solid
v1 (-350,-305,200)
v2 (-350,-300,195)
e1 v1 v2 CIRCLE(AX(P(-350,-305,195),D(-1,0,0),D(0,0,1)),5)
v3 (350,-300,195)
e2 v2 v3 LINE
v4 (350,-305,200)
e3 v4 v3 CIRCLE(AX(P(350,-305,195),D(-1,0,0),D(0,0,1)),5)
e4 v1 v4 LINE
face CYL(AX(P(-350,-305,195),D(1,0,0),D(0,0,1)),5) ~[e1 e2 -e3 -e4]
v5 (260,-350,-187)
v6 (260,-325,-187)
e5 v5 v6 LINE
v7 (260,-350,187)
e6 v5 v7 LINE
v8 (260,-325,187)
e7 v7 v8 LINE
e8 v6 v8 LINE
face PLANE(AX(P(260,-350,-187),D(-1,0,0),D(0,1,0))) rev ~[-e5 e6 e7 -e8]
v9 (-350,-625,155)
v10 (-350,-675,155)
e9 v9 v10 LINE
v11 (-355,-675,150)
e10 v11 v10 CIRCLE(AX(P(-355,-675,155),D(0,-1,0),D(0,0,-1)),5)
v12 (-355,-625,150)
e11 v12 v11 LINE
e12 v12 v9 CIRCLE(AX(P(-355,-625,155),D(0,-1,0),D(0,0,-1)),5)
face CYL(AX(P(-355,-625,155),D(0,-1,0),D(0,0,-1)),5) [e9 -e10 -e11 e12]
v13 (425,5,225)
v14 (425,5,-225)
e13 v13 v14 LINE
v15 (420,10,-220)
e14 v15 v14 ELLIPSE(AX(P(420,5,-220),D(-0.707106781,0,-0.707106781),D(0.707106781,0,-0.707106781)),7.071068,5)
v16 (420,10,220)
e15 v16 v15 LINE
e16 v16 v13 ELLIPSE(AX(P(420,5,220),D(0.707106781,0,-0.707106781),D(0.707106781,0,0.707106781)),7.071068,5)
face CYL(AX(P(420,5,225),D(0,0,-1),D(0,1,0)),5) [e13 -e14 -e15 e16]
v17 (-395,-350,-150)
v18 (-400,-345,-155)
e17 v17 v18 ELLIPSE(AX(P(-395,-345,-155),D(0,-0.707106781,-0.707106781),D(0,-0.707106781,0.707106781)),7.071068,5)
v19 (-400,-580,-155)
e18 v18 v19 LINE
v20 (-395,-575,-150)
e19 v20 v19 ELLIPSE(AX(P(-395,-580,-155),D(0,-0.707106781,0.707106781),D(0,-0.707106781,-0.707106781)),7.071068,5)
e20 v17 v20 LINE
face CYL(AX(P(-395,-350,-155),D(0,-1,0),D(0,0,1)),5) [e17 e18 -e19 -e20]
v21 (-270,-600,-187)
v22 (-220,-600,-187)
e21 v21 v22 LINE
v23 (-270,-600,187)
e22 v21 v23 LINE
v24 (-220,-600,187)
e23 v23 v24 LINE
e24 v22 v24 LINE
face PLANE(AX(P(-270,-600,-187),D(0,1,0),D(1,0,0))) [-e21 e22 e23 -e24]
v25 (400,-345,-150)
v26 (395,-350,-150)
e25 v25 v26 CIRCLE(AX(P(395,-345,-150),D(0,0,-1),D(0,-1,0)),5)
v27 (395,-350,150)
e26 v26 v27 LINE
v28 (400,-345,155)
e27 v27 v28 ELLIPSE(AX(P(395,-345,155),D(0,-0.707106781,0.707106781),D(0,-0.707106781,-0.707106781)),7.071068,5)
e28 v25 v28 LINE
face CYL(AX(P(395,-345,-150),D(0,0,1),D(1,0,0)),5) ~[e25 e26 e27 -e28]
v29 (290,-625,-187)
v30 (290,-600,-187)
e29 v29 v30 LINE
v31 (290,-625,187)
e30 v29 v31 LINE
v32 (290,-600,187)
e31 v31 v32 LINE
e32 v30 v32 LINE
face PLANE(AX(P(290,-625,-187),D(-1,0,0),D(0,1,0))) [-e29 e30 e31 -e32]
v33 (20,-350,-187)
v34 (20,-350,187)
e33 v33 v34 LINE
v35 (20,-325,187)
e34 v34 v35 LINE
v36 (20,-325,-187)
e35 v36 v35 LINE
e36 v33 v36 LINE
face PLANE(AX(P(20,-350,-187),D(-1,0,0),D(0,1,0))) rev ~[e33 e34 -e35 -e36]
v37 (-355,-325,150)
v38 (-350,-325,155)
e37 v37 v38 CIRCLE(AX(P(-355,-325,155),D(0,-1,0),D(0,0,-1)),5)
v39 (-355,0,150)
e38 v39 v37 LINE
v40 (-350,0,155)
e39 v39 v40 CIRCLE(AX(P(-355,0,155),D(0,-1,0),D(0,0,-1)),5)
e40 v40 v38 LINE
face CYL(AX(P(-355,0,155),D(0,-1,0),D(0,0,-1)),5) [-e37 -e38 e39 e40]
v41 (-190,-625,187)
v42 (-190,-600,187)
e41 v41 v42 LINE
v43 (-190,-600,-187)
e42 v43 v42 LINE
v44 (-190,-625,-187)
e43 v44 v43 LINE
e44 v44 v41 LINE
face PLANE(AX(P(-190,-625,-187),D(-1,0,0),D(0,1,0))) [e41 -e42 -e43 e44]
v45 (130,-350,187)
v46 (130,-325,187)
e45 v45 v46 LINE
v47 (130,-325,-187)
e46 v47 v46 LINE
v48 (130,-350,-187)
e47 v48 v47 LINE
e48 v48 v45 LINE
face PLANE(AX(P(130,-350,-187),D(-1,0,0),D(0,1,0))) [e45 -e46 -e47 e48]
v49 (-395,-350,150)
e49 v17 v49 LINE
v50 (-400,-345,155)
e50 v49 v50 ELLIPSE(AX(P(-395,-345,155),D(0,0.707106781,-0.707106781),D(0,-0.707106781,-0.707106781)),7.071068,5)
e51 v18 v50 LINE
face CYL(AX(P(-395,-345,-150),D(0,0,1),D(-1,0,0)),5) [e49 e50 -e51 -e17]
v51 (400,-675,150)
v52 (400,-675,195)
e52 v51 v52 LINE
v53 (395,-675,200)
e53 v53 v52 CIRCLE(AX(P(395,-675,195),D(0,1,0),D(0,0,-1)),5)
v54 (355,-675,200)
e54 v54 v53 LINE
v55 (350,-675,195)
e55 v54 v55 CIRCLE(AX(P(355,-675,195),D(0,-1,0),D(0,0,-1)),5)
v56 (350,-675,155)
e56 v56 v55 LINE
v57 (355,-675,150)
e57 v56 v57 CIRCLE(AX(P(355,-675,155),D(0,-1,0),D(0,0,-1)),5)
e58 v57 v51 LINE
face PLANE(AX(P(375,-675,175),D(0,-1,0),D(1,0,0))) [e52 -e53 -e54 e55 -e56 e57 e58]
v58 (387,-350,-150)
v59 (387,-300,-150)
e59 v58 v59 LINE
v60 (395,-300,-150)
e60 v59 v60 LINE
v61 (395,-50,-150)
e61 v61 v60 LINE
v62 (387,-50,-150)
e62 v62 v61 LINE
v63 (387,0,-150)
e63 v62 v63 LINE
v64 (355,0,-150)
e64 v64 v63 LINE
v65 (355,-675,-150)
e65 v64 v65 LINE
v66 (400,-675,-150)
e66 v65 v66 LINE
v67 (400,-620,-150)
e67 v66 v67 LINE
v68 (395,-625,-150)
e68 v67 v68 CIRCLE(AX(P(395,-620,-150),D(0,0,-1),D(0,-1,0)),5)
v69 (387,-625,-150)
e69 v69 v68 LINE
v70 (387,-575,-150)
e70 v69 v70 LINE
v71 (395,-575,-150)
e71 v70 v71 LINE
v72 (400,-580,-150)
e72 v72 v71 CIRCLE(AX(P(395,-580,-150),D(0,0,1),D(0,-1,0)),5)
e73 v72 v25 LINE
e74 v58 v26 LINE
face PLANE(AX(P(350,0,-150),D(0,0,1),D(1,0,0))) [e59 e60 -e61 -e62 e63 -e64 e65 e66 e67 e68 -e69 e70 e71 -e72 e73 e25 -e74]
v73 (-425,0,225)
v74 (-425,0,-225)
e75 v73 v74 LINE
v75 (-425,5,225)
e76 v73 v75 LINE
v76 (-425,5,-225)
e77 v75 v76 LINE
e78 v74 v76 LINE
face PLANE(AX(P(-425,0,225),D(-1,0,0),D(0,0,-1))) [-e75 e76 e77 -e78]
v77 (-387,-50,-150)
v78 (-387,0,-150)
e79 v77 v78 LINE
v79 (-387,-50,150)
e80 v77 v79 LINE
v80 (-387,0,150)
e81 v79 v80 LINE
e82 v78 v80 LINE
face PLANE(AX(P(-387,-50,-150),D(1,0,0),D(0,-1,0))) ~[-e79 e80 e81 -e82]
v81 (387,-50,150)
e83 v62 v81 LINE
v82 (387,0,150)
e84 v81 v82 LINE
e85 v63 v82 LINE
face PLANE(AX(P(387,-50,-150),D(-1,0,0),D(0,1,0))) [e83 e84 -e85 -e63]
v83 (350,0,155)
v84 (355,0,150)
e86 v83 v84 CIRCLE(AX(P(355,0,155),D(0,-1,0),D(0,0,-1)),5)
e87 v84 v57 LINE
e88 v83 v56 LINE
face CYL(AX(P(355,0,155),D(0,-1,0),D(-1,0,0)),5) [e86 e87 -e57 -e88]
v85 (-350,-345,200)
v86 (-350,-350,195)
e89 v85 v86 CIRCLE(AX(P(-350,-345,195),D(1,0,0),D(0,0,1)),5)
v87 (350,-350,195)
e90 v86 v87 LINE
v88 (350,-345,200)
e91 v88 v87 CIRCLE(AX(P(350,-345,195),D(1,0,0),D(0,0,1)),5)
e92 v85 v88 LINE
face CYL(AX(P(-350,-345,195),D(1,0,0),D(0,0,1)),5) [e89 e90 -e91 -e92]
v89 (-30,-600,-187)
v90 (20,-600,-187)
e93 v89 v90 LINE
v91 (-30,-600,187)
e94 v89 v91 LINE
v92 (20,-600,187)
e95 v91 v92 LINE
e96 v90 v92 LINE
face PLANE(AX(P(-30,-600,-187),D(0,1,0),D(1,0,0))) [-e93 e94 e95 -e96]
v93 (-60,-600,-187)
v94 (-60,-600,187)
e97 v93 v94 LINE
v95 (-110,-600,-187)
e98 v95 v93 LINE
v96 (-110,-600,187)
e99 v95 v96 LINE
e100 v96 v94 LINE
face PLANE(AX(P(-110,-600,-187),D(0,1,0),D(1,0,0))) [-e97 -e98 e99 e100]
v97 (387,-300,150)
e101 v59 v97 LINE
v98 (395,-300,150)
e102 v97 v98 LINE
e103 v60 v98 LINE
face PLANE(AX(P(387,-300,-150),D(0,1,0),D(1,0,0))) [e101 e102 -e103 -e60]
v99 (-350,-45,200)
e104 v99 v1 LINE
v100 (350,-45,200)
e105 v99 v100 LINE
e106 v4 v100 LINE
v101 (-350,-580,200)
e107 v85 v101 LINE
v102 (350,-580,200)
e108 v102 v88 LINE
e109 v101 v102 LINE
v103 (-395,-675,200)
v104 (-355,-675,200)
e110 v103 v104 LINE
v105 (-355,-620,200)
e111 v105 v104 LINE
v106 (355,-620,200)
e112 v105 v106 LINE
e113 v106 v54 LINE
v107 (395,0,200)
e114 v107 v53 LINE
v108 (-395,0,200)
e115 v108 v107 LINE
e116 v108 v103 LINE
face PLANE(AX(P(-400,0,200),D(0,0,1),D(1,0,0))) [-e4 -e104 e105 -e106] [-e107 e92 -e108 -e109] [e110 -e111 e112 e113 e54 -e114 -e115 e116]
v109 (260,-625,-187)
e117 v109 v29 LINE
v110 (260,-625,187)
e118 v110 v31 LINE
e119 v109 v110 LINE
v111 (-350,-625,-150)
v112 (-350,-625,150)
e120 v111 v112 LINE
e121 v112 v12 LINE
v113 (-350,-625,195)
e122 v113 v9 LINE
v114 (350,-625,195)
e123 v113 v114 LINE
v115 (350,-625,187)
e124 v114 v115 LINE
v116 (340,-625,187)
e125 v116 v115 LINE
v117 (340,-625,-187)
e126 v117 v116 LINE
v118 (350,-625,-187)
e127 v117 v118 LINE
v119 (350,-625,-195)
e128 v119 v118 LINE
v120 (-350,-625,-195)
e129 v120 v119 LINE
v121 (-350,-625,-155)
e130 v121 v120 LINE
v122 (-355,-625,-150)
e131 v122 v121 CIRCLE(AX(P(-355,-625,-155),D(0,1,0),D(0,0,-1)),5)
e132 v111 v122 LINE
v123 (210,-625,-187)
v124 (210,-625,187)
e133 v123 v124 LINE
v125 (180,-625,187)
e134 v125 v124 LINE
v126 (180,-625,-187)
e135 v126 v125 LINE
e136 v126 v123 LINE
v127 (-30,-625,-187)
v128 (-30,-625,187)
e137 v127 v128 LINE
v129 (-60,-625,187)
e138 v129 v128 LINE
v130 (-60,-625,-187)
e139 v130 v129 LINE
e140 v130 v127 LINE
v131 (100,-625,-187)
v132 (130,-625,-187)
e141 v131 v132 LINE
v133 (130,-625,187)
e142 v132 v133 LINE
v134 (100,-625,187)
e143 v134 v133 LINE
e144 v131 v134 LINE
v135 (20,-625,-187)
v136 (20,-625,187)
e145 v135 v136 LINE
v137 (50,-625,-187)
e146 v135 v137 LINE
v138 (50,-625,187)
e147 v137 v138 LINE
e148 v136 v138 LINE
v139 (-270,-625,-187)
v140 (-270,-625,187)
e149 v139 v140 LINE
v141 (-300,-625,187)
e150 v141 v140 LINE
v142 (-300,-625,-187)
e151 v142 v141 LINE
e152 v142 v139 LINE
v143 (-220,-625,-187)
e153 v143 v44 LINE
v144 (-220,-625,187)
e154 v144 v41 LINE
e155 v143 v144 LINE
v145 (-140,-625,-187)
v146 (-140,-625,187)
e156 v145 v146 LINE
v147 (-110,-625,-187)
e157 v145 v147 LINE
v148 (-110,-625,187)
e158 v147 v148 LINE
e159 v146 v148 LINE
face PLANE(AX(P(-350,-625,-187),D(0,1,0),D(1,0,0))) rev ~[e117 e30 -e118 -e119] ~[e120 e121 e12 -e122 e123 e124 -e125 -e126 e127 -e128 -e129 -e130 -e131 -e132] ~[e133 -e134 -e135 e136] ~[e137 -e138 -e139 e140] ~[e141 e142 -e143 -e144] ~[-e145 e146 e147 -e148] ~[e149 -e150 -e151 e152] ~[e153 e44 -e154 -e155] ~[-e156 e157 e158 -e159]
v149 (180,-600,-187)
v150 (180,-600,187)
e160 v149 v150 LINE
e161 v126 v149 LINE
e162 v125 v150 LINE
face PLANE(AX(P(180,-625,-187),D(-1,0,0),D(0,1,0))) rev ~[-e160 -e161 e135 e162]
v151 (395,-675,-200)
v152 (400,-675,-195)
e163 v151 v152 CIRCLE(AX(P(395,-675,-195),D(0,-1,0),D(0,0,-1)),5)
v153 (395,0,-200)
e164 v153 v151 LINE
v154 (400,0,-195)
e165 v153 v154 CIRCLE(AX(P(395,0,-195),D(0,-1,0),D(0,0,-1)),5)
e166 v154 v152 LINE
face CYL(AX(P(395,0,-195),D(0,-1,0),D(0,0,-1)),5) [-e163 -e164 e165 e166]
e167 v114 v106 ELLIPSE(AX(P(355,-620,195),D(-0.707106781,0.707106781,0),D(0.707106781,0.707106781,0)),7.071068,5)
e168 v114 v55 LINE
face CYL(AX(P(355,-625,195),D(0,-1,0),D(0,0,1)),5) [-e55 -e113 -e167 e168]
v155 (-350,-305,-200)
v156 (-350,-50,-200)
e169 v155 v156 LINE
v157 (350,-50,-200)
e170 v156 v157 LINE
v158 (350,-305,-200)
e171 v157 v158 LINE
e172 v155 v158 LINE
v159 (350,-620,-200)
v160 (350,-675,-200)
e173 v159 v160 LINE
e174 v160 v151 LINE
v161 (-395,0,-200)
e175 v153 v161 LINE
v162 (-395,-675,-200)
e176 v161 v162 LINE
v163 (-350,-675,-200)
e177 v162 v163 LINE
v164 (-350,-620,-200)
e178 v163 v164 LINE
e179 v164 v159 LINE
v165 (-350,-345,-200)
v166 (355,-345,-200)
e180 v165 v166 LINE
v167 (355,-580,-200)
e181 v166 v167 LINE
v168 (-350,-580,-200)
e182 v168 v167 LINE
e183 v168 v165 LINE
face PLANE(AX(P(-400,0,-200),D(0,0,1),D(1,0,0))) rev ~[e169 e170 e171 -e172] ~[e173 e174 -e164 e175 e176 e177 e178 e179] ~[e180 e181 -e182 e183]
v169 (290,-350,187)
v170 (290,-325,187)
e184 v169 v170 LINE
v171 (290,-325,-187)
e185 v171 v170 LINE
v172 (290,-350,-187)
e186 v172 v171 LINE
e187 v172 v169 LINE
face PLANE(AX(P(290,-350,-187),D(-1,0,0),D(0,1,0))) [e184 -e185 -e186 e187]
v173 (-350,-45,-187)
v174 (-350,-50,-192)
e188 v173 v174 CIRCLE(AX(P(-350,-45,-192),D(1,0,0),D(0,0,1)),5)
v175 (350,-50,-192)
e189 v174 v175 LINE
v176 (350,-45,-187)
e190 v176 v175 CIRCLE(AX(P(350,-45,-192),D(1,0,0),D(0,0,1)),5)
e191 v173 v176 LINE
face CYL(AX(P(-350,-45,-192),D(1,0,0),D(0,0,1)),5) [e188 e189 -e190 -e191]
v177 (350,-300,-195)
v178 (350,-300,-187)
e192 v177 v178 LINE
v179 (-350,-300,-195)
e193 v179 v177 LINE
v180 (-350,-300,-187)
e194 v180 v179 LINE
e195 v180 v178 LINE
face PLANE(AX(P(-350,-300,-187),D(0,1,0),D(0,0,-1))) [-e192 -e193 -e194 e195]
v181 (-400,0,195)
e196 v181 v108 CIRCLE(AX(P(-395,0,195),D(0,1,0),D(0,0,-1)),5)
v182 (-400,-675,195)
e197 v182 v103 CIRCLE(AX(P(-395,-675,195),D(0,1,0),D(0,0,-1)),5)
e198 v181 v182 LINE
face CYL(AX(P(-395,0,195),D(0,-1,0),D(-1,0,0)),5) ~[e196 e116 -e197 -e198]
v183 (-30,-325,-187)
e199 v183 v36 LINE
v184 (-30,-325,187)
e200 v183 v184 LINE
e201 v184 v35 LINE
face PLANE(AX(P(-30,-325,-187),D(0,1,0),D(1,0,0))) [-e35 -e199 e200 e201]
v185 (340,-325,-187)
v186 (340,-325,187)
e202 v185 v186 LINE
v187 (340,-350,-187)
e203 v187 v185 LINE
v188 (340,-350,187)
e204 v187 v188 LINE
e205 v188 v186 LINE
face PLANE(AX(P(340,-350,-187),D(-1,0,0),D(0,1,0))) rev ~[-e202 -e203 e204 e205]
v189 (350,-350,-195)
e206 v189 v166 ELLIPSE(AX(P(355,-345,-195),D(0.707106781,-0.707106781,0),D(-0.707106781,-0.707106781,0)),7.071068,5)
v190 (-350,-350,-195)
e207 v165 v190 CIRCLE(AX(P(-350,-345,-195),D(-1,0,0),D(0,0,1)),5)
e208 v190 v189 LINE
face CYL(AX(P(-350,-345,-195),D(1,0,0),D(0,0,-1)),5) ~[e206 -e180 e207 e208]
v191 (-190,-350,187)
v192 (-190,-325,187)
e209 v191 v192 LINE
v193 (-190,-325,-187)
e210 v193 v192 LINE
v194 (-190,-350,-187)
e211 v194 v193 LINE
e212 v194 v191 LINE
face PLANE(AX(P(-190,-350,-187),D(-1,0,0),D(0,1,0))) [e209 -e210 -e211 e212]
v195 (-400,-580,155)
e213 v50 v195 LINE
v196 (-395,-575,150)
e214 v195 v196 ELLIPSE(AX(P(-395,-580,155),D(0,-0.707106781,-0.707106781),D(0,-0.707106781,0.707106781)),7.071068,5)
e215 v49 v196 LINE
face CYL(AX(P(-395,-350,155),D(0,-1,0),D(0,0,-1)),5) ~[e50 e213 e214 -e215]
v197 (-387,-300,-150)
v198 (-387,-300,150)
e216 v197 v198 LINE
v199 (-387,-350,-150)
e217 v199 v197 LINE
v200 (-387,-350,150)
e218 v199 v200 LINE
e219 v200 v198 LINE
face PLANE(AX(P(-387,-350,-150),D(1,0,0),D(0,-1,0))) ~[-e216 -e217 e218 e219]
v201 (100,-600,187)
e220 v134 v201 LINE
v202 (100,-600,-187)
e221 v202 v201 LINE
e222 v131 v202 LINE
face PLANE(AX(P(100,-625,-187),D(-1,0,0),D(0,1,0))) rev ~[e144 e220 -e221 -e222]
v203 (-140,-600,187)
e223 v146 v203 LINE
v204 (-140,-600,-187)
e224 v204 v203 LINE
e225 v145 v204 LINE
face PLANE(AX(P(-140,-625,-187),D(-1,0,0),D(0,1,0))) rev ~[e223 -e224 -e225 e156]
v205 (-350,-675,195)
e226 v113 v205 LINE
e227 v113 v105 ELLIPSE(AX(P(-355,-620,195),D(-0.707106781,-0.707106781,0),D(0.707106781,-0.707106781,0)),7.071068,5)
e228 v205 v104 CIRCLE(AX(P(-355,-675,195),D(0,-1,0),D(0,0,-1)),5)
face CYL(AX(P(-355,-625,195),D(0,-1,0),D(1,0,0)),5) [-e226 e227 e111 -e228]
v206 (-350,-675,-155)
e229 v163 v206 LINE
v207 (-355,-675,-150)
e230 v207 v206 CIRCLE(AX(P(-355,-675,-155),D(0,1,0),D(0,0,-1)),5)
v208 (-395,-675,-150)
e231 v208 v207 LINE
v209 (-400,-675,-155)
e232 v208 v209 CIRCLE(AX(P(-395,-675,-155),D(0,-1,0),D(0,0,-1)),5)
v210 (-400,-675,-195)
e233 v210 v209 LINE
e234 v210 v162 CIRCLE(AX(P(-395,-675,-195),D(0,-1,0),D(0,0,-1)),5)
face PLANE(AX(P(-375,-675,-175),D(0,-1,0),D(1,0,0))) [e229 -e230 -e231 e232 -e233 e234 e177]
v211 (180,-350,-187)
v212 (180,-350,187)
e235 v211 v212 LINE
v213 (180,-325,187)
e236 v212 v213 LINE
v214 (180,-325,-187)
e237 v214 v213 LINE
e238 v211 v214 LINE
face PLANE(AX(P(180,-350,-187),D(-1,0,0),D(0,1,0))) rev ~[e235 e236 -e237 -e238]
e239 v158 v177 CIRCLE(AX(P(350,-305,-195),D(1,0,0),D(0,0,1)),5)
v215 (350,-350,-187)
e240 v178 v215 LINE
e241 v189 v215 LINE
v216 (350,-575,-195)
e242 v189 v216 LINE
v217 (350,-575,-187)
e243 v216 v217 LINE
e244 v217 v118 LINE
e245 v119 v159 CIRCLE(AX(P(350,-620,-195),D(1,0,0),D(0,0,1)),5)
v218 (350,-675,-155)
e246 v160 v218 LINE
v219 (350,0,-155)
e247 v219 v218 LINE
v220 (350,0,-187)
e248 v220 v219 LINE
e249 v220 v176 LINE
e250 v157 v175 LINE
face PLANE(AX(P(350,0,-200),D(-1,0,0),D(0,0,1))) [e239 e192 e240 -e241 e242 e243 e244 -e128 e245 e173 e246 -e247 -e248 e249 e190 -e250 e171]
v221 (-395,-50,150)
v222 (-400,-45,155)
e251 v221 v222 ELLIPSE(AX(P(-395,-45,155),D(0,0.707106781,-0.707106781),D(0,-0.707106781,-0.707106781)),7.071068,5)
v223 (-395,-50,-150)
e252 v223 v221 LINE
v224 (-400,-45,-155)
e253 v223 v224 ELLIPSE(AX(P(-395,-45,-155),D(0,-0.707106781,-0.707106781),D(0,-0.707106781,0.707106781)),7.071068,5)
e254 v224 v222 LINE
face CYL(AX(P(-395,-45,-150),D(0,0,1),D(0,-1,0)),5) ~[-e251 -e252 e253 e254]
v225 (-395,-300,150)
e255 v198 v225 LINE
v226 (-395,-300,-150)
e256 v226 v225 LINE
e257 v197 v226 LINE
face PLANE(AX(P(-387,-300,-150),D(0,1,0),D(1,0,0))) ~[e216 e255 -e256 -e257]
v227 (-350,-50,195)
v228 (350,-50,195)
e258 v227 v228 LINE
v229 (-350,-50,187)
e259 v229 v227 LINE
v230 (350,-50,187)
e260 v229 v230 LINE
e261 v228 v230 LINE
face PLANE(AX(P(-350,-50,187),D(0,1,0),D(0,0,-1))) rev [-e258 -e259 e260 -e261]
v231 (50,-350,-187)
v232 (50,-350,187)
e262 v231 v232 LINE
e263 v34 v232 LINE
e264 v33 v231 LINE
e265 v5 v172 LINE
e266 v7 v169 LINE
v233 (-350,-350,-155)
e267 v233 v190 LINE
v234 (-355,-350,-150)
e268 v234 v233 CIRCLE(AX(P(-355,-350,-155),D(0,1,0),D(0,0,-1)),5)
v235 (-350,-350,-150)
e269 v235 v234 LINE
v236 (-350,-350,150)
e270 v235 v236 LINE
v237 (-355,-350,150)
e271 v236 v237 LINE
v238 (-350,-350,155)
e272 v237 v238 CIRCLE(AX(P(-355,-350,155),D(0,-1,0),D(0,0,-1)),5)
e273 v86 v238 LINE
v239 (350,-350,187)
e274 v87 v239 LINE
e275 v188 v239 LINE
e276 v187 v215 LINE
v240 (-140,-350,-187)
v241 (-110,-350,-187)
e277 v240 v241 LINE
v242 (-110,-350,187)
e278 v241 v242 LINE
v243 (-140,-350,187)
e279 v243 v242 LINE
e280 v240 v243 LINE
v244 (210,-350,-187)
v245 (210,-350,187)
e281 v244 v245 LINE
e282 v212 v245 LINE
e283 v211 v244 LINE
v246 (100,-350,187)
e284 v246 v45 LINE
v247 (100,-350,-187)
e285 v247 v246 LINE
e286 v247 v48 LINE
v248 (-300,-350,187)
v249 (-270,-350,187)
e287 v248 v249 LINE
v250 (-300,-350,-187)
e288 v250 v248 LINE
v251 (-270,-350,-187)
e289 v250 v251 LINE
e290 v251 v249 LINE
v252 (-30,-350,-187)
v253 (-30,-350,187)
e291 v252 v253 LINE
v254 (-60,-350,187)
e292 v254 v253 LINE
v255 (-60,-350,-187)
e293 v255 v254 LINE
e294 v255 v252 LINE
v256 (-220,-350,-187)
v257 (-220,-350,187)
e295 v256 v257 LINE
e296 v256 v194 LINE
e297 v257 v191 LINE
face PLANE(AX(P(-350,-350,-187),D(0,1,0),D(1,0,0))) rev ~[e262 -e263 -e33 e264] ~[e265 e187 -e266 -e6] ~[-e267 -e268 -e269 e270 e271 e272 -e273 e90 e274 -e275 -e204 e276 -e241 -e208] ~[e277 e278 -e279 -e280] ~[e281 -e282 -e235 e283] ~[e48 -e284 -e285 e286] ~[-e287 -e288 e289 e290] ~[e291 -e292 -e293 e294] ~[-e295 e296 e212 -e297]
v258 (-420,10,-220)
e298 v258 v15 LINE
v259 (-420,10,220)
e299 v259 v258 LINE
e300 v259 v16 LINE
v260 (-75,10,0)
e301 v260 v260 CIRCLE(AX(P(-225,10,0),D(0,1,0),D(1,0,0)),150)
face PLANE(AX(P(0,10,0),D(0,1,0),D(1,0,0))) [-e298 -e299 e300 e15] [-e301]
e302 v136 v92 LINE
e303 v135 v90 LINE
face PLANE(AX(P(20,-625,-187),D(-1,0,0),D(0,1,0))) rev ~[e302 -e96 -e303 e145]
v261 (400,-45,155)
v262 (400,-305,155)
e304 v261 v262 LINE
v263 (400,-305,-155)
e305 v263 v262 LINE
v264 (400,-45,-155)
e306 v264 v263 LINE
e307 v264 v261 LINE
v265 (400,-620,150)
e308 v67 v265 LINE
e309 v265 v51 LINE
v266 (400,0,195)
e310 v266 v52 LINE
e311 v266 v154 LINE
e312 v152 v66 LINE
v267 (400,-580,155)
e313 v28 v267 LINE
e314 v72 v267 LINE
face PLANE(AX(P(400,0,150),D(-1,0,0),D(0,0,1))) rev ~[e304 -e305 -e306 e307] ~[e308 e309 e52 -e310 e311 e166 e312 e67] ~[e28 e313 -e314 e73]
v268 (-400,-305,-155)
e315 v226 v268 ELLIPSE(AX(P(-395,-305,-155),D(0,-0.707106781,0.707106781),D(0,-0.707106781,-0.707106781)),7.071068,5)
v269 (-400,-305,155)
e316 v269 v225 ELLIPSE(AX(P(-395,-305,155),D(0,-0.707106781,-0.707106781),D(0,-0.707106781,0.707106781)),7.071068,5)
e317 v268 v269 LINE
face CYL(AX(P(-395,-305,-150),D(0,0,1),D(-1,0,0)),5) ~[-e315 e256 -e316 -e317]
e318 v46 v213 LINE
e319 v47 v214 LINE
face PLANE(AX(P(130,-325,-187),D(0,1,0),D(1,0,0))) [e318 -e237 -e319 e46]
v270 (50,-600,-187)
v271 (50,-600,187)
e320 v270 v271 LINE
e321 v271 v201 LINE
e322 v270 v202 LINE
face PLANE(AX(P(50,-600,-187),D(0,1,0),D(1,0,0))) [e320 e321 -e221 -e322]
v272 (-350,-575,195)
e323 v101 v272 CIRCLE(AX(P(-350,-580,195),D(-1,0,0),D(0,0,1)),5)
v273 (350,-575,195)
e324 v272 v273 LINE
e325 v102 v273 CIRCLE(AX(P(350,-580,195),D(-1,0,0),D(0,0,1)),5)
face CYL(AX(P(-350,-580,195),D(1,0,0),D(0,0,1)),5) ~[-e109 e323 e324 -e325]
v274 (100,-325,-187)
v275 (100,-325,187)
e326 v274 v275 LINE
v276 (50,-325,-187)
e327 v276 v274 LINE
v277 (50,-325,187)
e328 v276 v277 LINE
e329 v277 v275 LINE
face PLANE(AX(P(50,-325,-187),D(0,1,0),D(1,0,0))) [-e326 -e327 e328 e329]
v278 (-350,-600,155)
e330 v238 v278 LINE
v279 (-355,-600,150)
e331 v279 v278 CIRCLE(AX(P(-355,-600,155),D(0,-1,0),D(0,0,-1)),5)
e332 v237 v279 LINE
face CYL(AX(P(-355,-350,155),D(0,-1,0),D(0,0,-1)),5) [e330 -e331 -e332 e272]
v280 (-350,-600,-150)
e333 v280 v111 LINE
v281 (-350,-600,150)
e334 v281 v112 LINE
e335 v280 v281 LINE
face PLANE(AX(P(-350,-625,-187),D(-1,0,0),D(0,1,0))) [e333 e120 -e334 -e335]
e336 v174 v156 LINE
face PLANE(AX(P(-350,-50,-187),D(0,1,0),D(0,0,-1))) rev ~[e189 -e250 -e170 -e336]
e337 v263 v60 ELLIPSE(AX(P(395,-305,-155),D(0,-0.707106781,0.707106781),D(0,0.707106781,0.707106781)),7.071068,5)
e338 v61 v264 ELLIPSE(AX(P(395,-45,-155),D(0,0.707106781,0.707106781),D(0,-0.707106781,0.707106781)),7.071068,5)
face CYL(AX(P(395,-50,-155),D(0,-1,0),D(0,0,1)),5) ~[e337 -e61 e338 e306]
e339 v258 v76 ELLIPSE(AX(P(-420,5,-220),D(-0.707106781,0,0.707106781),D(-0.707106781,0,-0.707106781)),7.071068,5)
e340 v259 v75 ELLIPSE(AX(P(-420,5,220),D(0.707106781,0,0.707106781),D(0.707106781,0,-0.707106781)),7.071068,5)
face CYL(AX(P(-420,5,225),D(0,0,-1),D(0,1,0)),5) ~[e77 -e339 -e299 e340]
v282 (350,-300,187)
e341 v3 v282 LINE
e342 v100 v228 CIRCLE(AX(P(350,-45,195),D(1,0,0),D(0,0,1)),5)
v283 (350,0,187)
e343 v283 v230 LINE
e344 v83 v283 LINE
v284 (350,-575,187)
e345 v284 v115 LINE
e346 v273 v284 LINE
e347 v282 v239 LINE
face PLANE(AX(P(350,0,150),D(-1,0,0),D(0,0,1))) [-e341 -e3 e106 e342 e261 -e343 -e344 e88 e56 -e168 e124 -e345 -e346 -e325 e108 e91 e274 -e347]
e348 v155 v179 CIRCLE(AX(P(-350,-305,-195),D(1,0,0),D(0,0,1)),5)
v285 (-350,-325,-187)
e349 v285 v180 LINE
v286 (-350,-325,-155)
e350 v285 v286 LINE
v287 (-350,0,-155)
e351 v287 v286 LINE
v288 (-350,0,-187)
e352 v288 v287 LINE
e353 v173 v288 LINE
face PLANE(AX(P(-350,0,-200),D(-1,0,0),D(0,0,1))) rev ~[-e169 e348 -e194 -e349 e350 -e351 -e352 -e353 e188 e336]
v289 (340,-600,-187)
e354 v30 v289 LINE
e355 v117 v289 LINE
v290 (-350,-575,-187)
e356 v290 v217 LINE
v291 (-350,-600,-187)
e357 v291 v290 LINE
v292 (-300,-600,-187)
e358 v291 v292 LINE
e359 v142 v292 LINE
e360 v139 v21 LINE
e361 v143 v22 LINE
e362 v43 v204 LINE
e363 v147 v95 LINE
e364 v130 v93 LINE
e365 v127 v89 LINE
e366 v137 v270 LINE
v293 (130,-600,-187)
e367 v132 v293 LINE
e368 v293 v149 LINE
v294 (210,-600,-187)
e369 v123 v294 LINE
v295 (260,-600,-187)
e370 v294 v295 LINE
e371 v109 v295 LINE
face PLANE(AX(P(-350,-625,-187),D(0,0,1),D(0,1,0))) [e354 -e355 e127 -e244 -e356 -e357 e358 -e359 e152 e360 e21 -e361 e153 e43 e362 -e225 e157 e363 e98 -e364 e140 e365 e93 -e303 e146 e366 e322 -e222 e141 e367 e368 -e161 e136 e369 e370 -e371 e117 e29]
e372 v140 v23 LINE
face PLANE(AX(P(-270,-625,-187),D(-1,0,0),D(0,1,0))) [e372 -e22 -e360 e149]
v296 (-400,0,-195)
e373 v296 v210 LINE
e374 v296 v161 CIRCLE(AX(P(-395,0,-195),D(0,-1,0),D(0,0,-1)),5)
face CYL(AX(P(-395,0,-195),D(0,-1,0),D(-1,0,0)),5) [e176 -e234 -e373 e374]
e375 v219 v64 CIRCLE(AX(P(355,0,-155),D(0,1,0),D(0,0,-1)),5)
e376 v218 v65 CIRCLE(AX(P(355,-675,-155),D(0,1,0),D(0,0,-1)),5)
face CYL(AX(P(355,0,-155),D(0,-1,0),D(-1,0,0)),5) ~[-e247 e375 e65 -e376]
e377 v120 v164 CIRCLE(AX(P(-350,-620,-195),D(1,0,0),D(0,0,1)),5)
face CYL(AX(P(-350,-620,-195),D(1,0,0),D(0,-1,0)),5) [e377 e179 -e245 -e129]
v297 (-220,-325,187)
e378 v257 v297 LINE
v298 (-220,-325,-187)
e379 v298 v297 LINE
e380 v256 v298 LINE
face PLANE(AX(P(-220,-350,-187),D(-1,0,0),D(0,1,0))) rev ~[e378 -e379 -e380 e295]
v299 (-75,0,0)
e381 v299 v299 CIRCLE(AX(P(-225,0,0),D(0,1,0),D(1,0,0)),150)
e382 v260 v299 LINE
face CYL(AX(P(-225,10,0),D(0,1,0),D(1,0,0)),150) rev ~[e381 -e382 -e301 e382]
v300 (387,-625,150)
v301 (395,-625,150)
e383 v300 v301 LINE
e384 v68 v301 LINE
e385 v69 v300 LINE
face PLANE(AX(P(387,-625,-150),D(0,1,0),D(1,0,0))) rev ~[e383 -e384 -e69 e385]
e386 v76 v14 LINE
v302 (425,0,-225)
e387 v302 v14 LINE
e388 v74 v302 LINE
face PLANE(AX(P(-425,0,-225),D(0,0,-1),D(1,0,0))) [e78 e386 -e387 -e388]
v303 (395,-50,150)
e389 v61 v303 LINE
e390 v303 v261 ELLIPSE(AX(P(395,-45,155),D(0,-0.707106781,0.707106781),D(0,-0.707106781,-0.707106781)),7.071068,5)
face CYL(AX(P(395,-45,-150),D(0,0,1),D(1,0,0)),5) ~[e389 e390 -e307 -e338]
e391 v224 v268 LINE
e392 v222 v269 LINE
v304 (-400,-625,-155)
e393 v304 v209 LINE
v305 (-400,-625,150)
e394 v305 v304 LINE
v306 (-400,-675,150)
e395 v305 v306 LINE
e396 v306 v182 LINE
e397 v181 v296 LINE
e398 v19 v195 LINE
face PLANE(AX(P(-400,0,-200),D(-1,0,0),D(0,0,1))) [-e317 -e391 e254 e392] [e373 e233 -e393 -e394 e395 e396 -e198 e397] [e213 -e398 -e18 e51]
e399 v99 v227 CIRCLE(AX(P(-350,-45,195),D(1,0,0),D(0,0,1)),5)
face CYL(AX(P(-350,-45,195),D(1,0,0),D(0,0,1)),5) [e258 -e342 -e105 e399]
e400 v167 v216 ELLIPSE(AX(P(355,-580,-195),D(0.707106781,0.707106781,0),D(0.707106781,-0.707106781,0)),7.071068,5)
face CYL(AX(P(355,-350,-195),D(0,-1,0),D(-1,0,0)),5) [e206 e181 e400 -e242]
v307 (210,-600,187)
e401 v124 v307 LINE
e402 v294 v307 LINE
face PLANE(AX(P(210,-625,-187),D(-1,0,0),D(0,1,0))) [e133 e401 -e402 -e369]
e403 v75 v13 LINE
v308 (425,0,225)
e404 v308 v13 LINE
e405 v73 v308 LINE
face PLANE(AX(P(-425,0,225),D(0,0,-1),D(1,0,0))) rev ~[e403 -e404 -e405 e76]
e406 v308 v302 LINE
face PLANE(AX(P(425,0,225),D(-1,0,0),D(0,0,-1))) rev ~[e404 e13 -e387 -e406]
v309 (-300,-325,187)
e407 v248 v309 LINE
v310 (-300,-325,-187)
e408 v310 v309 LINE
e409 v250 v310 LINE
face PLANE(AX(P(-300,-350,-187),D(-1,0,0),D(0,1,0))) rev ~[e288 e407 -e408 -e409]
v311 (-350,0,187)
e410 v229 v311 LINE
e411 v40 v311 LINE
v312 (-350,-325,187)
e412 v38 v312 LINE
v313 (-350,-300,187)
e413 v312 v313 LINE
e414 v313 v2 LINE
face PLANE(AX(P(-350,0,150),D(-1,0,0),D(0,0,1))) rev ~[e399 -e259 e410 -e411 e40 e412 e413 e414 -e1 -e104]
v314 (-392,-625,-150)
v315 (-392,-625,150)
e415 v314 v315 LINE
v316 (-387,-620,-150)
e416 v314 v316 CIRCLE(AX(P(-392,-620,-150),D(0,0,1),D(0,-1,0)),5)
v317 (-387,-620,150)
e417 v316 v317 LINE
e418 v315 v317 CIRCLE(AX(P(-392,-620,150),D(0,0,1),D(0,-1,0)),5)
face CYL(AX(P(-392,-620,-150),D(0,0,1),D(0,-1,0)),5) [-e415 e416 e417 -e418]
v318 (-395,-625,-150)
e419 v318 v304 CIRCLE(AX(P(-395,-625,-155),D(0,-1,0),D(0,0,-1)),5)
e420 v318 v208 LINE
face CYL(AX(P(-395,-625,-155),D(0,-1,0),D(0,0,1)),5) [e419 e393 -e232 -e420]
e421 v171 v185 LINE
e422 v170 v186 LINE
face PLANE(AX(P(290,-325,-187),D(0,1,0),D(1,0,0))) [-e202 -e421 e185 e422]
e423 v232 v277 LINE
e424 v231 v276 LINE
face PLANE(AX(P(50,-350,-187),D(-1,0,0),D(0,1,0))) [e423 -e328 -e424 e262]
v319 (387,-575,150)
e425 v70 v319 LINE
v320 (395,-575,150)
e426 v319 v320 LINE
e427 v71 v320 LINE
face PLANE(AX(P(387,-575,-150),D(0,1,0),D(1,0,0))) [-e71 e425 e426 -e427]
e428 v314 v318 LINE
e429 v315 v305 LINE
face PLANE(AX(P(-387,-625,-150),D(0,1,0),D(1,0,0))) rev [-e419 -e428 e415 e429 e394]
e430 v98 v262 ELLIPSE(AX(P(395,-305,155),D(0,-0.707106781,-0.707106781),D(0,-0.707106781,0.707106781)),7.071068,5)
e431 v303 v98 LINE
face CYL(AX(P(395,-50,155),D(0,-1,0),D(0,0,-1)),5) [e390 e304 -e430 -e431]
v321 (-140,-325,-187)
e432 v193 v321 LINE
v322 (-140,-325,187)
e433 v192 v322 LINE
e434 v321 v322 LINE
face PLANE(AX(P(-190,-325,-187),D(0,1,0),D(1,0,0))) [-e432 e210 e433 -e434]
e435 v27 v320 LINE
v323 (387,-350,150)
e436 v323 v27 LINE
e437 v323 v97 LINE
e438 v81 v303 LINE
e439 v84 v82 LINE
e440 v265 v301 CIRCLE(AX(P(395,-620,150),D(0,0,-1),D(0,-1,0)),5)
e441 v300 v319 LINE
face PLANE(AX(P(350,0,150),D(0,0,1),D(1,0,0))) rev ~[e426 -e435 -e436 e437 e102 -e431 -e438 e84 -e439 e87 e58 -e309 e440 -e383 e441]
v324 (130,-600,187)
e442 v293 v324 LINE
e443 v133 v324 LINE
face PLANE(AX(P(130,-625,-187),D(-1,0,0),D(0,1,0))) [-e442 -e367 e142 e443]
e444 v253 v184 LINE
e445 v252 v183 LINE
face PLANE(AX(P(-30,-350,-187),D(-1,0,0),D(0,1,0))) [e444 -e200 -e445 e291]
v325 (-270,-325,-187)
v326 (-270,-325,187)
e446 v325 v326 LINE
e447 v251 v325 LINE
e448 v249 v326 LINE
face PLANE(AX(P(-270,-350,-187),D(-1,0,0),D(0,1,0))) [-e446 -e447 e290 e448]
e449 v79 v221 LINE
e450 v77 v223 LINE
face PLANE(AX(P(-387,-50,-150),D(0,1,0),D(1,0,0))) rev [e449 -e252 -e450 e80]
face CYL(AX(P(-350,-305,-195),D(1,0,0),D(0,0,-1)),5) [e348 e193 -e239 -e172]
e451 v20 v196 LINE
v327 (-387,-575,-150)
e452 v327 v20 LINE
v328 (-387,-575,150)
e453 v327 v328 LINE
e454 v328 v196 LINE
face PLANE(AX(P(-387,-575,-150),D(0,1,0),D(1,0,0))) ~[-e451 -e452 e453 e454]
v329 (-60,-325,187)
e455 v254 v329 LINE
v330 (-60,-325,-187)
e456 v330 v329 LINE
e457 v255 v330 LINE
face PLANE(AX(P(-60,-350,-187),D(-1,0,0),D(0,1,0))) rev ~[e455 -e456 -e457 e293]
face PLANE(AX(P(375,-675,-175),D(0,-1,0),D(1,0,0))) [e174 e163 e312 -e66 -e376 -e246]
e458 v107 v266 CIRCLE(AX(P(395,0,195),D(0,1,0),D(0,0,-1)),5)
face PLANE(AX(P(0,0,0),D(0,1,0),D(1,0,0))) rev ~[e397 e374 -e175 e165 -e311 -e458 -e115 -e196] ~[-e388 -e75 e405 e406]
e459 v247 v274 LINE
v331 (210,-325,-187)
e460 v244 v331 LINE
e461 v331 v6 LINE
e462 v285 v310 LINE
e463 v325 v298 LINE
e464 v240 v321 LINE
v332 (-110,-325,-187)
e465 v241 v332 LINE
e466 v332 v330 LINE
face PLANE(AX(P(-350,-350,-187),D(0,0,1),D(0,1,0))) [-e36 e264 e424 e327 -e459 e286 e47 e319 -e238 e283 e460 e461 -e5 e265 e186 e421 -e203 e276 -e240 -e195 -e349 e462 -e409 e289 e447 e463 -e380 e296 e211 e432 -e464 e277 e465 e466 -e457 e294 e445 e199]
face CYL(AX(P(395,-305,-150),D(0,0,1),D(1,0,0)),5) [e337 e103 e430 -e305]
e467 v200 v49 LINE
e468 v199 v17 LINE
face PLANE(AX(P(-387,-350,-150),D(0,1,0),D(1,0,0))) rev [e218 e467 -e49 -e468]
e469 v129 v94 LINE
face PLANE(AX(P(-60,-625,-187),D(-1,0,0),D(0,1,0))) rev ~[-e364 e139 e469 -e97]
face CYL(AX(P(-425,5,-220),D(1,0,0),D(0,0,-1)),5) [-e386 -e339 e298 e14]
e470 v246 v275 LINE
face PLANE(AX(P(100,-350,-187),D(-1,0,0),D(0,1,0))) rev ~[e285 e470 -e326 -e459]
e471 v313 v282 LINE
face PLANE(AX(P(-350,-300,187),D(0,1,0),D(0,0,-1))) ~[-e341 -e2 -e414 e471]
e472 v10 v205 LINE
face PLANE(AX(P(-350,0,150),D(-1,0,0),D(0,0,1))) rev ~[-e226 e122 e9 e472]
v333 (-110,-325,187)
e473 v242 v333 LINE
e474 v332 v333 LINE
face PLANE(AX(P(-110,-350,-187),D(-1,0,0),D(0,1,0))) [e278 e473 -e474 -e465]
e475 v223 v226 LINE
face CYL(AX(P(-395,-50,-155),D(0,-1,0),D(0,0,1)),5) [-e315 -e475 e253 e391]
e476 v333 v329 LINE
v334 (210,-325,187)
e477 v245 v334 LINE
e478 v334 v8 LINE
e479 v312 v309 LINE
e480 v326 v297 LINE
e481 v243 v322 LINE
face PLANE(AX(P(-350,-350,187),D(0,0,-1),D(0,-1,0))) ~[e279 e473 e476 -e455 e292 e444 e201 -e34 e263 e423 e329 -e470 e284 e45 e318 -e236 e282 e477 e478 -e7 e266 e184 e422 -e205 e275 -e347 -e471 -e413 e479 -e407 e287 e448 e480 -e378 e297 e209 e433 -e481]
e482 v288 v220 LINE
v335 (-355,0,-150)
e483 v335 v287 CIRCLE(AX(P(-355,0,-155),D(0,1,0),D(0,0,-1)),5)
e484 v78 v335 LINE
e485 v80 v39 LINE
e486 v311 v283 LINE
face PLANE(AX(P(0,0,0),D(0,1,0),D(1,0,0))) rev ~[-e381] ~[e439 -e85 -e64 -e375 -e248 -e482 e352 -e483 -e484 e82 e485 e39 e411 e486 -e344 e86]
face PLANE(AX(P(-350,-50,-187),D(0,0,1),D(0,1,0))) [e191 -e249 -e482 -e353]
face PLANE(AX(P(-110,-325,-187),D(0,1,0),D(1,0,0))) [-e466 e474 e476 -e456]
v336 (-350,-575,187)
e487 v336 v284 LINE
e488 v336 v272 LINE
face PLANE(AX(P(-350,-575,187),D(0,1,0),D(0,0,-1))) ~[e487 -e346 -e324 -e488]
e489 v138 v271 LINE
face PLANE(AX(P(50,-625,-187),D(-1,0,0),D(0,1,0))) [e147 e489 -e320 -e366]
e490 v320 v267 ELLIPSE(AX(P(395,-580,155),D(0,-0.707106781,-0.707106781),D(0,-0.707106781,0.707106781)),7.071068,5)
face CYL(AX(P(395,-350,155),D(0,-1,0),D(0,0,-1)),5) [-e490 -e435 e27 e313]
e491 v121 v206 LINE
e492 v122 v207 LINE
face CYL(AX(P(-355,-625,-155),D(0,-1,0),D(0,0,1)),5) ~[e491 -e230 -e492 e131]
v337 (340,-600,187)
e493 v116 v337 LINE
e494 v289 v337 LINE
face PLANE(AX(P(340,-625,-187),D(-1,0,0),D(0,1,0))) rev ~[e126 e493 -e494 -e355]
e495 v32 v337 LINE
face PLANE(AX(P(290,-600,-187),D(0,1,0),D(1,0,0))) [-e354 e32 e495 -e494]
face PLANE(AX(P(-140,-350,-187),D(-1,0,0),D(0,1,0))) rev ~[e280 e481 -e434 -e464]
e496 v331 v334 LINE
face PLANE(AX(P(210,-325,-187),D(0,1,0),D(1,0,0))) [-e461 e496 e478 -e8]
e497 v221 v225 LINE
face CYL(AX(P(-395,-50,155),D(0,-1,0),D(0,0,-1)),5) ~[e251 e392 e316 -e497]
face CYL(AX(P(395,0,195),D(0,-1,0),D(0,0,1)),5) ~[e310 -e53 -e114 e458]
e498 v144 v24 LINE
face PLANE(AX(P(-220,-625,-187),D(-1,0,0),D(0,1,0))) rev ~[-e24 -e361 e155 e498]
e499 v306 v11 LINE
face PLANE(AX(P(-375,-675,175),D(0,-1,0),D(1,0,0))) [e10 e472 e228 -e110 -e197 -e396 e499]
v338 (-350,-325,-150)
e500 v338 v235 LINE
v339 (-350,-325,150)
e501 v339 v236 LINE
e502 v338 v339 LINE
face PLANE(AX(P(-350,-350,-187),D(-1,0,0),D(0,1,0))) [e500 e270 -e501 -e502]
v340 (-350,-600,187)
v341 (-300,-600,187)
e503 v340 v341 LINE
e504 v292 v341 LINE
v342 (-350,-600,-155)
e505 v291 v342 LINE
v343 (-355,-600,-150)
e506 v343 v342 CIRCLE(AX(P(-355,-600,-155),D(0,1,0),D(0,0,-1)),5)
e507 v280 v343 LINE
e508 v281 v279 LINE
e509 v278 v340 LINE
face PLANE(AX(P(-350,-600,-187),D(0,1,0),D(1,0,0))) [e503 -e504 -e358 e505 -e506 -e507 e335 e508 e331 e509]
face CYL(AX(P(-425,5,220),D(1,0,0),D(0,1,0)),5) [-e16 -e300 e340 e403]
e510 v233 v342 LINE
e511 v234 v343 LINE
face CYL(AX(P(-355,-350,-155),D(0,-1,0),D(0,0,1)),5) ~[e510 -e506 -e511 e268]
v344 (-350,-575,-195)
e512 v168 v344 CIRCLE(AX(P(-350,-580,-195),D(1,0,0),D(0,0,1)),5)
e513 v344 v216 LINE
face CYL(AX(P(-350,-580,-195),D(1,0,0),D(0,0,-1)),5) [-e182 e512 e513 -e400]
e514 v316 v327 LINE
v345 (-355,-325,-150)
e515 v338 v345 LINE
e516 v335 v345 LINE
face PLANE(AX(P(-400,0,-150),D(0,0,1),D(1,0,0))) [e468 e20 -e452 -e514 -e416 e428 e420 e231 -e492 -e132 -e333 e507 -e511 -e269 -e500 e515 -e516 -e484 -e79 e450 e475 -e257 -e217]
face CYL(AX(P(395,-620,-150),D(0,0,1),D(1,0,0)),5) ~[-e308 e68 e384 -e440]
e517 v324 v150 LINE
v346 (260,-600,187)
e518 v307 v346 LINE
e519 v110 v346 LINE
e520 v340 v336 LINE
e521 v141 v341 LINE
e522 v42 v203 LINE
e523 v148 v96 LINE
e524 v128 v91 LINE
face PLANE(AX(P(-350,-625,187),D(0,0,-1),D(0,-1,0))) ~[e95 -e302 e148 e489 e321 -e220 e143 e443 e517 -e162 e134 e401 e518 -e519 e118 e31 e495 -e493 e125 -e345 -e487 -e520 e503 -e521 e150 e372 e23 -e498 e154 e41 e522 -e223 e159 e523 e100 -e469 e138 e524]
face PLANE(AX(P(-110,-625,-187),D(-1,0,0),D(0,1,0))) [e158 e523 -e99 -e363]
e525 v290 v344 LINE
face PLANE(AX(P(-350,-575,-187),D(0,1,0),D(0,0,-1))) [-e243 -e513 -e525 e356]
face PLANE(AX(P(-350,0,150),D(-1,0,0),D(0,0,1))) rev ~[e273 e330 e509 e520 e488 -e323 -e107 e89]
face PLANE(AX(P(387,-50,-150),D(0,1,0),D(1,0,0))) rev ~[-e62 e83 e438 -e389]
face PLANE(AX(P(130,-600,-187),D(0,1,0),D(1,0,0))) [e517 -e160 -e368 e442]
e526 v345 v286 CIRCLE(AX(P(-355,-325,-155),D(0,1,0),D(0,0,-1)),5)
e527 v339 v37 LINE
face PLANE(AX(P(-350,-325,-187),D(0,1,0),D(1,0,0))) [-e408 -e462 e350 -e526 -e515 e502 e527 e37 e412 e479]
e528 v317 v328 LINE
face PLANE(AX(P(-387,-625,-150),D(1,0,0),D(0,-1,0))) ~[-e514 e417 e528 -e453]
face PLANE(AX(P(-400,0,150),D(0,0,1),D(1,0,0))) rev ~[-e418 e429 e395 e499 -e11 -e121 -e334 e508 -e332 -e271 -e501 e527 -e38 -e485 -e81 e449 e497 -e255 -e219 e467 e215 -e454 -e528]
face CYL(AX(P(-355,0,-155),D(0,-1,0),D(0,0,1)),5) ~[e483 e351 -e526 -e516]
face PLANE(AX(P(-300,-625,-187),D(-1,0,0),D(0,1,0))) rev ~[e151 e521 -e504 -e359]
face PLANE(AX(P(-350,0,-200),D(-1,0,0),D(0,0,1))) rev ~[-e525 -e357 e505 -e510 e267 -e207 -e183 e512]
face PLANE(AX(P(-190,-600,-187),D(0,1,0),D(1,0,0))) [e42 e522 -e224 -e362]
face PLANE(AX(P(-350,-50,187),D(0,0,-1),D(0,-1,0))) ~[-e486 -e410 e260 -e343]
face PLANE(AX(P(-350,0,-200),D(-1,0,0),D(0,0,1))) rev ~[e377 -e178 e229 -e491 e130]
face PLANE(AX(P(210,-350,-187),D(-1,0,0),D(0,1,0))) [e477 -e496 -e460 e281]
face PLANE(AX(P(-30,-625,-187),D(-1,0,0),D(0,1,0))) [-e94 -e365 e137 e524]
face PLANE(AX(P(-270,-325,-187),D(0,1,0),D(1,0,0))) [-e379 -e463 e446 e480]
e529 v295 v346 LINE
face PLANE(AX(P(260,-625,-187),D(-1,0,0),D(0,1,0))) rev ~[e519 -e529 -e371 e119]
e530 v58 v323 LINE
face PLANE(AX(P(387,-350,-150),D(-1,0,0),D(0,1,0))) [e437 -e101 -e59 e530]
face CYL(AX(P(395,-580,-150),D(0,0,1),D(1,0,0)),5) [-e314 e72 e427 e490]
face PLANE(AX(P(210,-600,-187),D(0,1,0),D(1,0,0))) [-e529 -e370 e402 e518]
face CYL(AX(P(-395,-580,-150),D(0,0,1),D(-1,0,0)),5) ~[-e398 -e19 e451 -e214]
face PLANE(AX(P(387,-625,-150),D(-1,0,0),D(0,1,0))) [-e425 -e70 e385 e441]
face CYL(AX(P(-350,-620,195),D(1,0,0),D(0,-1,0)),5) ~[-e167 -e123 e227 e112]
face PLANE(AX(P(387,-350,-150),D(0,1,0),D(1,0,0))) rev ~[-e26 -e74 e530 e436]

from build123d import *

# Parameters (mm, degrees)
SKETCH1_W           = 850
SKETCH1_H           = 450
BOSS_EXTRUDE1_DEPTH = 10
SKETCH2_W           = 50
SKETCH2_H           = 50
BOSS_EXTRUDE2_DEPTH = 675
BOSS_EXTRUDE3_REACH = 777
SKETCH3_W           = 13
SKETCH3_H           = 50
BOSS_EXTRUDE4_REACH = 377
SKETCH4_W           = 13
SKETCH4_H           = 50
SKETCH5_W           = 50
SKETCH5_H           = 25
BOSS_EXTRUDE5_DEPTH = 374
SKETCH6_W           = 50
SKETCH6_H           = 25
BOSS_EXTRUDE6_DEPTH = 374
LPATTERN2_COUNT     = 9
LPATTERN2_PITCH     = 80
LPATTERN3_COUNT     = 9
LPATTERN3_PITCH     = 80
CUT_EXTRUDE1_REACH  = 687
SKETCH7_R           = 150
FILLET2_R           = 5
FILLET3_R           = 5


with BuildPart() as part:
    # Sketch1 → Boss-Extrude1 (new body)
    with BuildSketch(Plane(origin=(0, 0, 0), x_dir=(1, 0, 0), z_dir=(0, 1, 0))):
        Rectangle(SKETCH1_W, SKETCH1_H)
    extrude(amount=BOSS_EXTRUDE1_DEPTH)

    # Sketch2 → Boss-Extrude2 (add)
    with BuildSketch(Plane.XZ):
        with Locations((-375, -175)):
            Rectangle(SKETCH2_W, SKETCH2_H)
        with Locations((-375, 175)):
            Rectangle(SKETCH2_W, SKETCH2_H)
        with Locations((375, 175)):
            Rectangle(SKETCH2_W, SKETCH2_H)
        with Locations((375, -175)):
            Rectangle(SKETCH2_W, SKETCH2_H)
    extrude(amount=BOSS_EXTRUDE2_DEPTH)

    # Sketch3 → Boss-Extrude3 (add, up to next)
    with BuildSketch(Plane(origin=(-350, 0, 0), x_dir=(0, 0, -1), z_dir=(1, 0, 0)), mode=Mode.PRIVATE) as boss_extrude3_sk1:
        with Locations((193.5, -600)):
            Rectangle(SKETCH3_W, SKETCH3_H)
    boss_extrude3_tool1 = extrude(boss_extrude3_sk1.sketch, amount=BOSS_EXTRUDE3_REACH, mode=Mode.PRIVATE) - part.part
    add(boss_extrude3_tool1.solids().sort_by_distance((-350, -600, -193.5))[0])
    # Sketch3 → Boss-Extrude3 (add, up to next)
    with BuildSketch(Plane(origin=(-350, 0, 0), x_dir=(0, 0, -1), z_dir=(1, 0, 0)), mode=Mode.PRIVATE) as boss_extrude3_sk2:
        with Locations((193.5, -325)):
            Rectangle(SKETCH3_W, SKETCH3_H)
    boss_extrude3_tool2 = extrude(boss_extrude3_sk2.sketch, amount=BOSS_EXTRUDE3_REACH, mode=Mode.PRIVATE) - part.part
    add(boss_extrude3_tool2.solids().sort_by_distance((-350, -325, -193.5))[0])
    # Sketch3 → Boss-Extrude3 (add, up to next)
    with BuildSketch(Plane(origin=(-350, 0, 0), x_dir=(0, 0, -1), z_dir=(1, 0, 0)), mode=Mode.PRIVATE) as boss_extrude3_sk3:
        with Locations((193.5, -25)):
            Rectangle(SKETCH3_W, SKETCH3_H)
    boss_extrude3_tool3 = extrude(boss_extrude3_sk3.sketch, amount=BOSS_EXTRUDE3_REACH, mode=Mode.PRIVATE) - part.part
    add(boss_extrude3_tool3.solids().sort_by_distance((-350, -25, -193.5))[0])

    # Mirror1: part across plane


with BuildPart() as part_1:
    add(part.part)
    add(part.part.mirror(Plane.XY))

    # Sketch4 → Boss-Extrude4 (add, up to next)
    with BuildSketch(Plane.XY.offset(-150), mode=Mode.PRIVATE) as boss_extrude4_sk1:
        with Locations((393.5, -600)):
            Rectangle(SKETCH4_W, SKETCH4_H)
    boss_extrude4_tool1 = extrude(boss_extrude4_sk1.sketch, amount=BOSS_EXTRUDE4_REACH, mode=Mode.PRIVATE) - part_1.part
    add(boss_extrude4_tool1.solids().sort_by_distance((393.5, -600, -150))[0])
    # Sketch4 → Boss-Extrude4 (add, up to next)
    with BuildSketch(Plane.XY.offset(-150), mode=Mode.PRIVATE) as boss_extrude4_sk2:
        with Locations((393.5, -325)):
            Rectangle(SKETCH4_W, SKETCH4_H)
    boss_extrude4_tool2 = extrude(boss_extrude4_sk2.sketch, amount=BOSS_EXTRUDE4_REACH, mode=Mode.PRIVATE) - part_1.part
    add(boss_extrude4_tool2.solids().sort_by_distance((393.5, -325, -150))[0])
    # Sketch4 → Boss-Extrude4 (add, up to next)
    with BuildSketch(Plane.XY.offset(-150), mode=Mode.PRIVATE) as boss_extrude4_sk3:
        with Locations((393.5, -25)):
            Rectangle(SKETCH4_W, SKETCH4_H)
    boss_extrude4_tool3 = extrude(boss_extrude4_sk3.sketch, amount=BOSS_EXTRUDE4_REACH, mode=Mode.PRIVATE) - part_1.part
    add(boss_extrude4_tool3.solids().sort_by_distance((393.5, -25, -150))[0])

    # Mirror2: part across plane


with BuildPart() as part_2:
    add(part_1.part)
    add(part_1.part.mirror(Plane(origin=(0, 0, 0), x_dir=(0, 0, 1), z_dir=(1, 0, 0))))

    # Sketch5 → Boss-Extrude5 (add)
    with BuildSketch(Plane.XY.offset(-187)):
        with Locations((-325, -337.5)):
            Rectangle(SKETCH5_W, SKETCH5_H)
    boss_extrude5 = extrude(amount=BOSS_EXTRUDE5_DEPTH)

    # Sketch6 → Boss-Extrude6 (add)
    with BuildSketch(Plane.XY.offset(-187)):
        with Locations((-325, -612.5)):
            Rectangle(SKETCH6_W, SKETCH6_H)
    boss_extrude6 = extrude(amount=BOSS_EXTRUDE6_DEPTH)

    # LPattern2: Boss-Extrude5 ×9
    with Locations(*[(i * LPATTERN2_PITCH, 0, 0) for i in range(1, LPATTERN2_COUNT)]):
        add(boss_extrude5)

    # LPattern3: Boss-Extrude6 ×9
    with Locations(*[(i * LPATTERN3_PITCH, 0, 0) for i in range(1, LPATTERN3_COUNT)]):
        add(boss_extrude6)

    # Sketch7 → Cut-Extrude1 (cut, up to next)
    with BuildSketch(Plane(origin=(0, 10, 0), x_dir=(1, 0, 0), z_dir=(0, 1, 0)), mode=Mode.PRIVATE) as cut_extrude1_sk1:
        with Locations((-225, 0)):
            Circle(SKETCH7_R)
    cut_extrude1_tool1 = extrude(cut_extrude1_sk1.sketch, amount=-CUT_EXTRUDE1_REACH, mode=Mode.PRIVATE) & part_2.part
    add(cut_extrude1_tool1.solids().sort_by_distance((-225, 10, 0))[0], mode=Mode.SUBTRACT)

    # Fillet2
    fillet2_edges = [part_2.edges().sort_by_distance(p)[0] for p in [
        (-400, -337.5, 200),
        (-350, -650, 200),
        (0, -625, 200),
        (350, -650, 200),
        (400, -337.5, 200),
        (0, -50, 200),
        (0, -300, 200),
        (0, -350, 200),
        (0, -575, 200),
        (-400, -175, -150),
        (-400, -300, 0),
        (-400, -175, 150),
        (-400, -50, 0),
        (-400, -462.5, -150),
        (-400, -575, 0),
        (-400, -462.5, 150),
        (-400, -350, 0),
        (-400, -650, -150),
        (-400, -337.5, -200),
        (400, -337.5, -200),
        (0, -625, -200),
        (0, -575, -200),
        (350, -462.5, -200),
        (0, -350, -200),
        (0, -300, -200),
        (400, -625, 0),
        (400, -462.5, 150),
        (400, -575, 0),
        (400, -350, 0),
        (400, -175, 150),
        (400, -300, 0),
        (400, -175, -150),
        (400, -50, 0),
        (-350, -650, 150),
        (350, -337.5, 150),
        (-350, -162.5, 150),
        (-350, -475, 150),
        (-350, -162.5, -150),
        (-350, -475, -150),
        (-350, -650, -150),
        (-387, -625, 0),
        (350, -337.5, -150),
        (0, -50, -187),
    ]]
    fillet(fillet2_edges, radius=FILLET2_R)

    # Fillet3
    fillet3_edges = [part_2.edges().sort_by_distance(p)[0] for p in [
        (-425, 10, 0),
        (0, 10, 225),
        (425, 10, 0),
        (0, 10, -225),
    ]]
    fillet(fillet3_edges, radius=FILLET3_R)


solid = part_2.part
